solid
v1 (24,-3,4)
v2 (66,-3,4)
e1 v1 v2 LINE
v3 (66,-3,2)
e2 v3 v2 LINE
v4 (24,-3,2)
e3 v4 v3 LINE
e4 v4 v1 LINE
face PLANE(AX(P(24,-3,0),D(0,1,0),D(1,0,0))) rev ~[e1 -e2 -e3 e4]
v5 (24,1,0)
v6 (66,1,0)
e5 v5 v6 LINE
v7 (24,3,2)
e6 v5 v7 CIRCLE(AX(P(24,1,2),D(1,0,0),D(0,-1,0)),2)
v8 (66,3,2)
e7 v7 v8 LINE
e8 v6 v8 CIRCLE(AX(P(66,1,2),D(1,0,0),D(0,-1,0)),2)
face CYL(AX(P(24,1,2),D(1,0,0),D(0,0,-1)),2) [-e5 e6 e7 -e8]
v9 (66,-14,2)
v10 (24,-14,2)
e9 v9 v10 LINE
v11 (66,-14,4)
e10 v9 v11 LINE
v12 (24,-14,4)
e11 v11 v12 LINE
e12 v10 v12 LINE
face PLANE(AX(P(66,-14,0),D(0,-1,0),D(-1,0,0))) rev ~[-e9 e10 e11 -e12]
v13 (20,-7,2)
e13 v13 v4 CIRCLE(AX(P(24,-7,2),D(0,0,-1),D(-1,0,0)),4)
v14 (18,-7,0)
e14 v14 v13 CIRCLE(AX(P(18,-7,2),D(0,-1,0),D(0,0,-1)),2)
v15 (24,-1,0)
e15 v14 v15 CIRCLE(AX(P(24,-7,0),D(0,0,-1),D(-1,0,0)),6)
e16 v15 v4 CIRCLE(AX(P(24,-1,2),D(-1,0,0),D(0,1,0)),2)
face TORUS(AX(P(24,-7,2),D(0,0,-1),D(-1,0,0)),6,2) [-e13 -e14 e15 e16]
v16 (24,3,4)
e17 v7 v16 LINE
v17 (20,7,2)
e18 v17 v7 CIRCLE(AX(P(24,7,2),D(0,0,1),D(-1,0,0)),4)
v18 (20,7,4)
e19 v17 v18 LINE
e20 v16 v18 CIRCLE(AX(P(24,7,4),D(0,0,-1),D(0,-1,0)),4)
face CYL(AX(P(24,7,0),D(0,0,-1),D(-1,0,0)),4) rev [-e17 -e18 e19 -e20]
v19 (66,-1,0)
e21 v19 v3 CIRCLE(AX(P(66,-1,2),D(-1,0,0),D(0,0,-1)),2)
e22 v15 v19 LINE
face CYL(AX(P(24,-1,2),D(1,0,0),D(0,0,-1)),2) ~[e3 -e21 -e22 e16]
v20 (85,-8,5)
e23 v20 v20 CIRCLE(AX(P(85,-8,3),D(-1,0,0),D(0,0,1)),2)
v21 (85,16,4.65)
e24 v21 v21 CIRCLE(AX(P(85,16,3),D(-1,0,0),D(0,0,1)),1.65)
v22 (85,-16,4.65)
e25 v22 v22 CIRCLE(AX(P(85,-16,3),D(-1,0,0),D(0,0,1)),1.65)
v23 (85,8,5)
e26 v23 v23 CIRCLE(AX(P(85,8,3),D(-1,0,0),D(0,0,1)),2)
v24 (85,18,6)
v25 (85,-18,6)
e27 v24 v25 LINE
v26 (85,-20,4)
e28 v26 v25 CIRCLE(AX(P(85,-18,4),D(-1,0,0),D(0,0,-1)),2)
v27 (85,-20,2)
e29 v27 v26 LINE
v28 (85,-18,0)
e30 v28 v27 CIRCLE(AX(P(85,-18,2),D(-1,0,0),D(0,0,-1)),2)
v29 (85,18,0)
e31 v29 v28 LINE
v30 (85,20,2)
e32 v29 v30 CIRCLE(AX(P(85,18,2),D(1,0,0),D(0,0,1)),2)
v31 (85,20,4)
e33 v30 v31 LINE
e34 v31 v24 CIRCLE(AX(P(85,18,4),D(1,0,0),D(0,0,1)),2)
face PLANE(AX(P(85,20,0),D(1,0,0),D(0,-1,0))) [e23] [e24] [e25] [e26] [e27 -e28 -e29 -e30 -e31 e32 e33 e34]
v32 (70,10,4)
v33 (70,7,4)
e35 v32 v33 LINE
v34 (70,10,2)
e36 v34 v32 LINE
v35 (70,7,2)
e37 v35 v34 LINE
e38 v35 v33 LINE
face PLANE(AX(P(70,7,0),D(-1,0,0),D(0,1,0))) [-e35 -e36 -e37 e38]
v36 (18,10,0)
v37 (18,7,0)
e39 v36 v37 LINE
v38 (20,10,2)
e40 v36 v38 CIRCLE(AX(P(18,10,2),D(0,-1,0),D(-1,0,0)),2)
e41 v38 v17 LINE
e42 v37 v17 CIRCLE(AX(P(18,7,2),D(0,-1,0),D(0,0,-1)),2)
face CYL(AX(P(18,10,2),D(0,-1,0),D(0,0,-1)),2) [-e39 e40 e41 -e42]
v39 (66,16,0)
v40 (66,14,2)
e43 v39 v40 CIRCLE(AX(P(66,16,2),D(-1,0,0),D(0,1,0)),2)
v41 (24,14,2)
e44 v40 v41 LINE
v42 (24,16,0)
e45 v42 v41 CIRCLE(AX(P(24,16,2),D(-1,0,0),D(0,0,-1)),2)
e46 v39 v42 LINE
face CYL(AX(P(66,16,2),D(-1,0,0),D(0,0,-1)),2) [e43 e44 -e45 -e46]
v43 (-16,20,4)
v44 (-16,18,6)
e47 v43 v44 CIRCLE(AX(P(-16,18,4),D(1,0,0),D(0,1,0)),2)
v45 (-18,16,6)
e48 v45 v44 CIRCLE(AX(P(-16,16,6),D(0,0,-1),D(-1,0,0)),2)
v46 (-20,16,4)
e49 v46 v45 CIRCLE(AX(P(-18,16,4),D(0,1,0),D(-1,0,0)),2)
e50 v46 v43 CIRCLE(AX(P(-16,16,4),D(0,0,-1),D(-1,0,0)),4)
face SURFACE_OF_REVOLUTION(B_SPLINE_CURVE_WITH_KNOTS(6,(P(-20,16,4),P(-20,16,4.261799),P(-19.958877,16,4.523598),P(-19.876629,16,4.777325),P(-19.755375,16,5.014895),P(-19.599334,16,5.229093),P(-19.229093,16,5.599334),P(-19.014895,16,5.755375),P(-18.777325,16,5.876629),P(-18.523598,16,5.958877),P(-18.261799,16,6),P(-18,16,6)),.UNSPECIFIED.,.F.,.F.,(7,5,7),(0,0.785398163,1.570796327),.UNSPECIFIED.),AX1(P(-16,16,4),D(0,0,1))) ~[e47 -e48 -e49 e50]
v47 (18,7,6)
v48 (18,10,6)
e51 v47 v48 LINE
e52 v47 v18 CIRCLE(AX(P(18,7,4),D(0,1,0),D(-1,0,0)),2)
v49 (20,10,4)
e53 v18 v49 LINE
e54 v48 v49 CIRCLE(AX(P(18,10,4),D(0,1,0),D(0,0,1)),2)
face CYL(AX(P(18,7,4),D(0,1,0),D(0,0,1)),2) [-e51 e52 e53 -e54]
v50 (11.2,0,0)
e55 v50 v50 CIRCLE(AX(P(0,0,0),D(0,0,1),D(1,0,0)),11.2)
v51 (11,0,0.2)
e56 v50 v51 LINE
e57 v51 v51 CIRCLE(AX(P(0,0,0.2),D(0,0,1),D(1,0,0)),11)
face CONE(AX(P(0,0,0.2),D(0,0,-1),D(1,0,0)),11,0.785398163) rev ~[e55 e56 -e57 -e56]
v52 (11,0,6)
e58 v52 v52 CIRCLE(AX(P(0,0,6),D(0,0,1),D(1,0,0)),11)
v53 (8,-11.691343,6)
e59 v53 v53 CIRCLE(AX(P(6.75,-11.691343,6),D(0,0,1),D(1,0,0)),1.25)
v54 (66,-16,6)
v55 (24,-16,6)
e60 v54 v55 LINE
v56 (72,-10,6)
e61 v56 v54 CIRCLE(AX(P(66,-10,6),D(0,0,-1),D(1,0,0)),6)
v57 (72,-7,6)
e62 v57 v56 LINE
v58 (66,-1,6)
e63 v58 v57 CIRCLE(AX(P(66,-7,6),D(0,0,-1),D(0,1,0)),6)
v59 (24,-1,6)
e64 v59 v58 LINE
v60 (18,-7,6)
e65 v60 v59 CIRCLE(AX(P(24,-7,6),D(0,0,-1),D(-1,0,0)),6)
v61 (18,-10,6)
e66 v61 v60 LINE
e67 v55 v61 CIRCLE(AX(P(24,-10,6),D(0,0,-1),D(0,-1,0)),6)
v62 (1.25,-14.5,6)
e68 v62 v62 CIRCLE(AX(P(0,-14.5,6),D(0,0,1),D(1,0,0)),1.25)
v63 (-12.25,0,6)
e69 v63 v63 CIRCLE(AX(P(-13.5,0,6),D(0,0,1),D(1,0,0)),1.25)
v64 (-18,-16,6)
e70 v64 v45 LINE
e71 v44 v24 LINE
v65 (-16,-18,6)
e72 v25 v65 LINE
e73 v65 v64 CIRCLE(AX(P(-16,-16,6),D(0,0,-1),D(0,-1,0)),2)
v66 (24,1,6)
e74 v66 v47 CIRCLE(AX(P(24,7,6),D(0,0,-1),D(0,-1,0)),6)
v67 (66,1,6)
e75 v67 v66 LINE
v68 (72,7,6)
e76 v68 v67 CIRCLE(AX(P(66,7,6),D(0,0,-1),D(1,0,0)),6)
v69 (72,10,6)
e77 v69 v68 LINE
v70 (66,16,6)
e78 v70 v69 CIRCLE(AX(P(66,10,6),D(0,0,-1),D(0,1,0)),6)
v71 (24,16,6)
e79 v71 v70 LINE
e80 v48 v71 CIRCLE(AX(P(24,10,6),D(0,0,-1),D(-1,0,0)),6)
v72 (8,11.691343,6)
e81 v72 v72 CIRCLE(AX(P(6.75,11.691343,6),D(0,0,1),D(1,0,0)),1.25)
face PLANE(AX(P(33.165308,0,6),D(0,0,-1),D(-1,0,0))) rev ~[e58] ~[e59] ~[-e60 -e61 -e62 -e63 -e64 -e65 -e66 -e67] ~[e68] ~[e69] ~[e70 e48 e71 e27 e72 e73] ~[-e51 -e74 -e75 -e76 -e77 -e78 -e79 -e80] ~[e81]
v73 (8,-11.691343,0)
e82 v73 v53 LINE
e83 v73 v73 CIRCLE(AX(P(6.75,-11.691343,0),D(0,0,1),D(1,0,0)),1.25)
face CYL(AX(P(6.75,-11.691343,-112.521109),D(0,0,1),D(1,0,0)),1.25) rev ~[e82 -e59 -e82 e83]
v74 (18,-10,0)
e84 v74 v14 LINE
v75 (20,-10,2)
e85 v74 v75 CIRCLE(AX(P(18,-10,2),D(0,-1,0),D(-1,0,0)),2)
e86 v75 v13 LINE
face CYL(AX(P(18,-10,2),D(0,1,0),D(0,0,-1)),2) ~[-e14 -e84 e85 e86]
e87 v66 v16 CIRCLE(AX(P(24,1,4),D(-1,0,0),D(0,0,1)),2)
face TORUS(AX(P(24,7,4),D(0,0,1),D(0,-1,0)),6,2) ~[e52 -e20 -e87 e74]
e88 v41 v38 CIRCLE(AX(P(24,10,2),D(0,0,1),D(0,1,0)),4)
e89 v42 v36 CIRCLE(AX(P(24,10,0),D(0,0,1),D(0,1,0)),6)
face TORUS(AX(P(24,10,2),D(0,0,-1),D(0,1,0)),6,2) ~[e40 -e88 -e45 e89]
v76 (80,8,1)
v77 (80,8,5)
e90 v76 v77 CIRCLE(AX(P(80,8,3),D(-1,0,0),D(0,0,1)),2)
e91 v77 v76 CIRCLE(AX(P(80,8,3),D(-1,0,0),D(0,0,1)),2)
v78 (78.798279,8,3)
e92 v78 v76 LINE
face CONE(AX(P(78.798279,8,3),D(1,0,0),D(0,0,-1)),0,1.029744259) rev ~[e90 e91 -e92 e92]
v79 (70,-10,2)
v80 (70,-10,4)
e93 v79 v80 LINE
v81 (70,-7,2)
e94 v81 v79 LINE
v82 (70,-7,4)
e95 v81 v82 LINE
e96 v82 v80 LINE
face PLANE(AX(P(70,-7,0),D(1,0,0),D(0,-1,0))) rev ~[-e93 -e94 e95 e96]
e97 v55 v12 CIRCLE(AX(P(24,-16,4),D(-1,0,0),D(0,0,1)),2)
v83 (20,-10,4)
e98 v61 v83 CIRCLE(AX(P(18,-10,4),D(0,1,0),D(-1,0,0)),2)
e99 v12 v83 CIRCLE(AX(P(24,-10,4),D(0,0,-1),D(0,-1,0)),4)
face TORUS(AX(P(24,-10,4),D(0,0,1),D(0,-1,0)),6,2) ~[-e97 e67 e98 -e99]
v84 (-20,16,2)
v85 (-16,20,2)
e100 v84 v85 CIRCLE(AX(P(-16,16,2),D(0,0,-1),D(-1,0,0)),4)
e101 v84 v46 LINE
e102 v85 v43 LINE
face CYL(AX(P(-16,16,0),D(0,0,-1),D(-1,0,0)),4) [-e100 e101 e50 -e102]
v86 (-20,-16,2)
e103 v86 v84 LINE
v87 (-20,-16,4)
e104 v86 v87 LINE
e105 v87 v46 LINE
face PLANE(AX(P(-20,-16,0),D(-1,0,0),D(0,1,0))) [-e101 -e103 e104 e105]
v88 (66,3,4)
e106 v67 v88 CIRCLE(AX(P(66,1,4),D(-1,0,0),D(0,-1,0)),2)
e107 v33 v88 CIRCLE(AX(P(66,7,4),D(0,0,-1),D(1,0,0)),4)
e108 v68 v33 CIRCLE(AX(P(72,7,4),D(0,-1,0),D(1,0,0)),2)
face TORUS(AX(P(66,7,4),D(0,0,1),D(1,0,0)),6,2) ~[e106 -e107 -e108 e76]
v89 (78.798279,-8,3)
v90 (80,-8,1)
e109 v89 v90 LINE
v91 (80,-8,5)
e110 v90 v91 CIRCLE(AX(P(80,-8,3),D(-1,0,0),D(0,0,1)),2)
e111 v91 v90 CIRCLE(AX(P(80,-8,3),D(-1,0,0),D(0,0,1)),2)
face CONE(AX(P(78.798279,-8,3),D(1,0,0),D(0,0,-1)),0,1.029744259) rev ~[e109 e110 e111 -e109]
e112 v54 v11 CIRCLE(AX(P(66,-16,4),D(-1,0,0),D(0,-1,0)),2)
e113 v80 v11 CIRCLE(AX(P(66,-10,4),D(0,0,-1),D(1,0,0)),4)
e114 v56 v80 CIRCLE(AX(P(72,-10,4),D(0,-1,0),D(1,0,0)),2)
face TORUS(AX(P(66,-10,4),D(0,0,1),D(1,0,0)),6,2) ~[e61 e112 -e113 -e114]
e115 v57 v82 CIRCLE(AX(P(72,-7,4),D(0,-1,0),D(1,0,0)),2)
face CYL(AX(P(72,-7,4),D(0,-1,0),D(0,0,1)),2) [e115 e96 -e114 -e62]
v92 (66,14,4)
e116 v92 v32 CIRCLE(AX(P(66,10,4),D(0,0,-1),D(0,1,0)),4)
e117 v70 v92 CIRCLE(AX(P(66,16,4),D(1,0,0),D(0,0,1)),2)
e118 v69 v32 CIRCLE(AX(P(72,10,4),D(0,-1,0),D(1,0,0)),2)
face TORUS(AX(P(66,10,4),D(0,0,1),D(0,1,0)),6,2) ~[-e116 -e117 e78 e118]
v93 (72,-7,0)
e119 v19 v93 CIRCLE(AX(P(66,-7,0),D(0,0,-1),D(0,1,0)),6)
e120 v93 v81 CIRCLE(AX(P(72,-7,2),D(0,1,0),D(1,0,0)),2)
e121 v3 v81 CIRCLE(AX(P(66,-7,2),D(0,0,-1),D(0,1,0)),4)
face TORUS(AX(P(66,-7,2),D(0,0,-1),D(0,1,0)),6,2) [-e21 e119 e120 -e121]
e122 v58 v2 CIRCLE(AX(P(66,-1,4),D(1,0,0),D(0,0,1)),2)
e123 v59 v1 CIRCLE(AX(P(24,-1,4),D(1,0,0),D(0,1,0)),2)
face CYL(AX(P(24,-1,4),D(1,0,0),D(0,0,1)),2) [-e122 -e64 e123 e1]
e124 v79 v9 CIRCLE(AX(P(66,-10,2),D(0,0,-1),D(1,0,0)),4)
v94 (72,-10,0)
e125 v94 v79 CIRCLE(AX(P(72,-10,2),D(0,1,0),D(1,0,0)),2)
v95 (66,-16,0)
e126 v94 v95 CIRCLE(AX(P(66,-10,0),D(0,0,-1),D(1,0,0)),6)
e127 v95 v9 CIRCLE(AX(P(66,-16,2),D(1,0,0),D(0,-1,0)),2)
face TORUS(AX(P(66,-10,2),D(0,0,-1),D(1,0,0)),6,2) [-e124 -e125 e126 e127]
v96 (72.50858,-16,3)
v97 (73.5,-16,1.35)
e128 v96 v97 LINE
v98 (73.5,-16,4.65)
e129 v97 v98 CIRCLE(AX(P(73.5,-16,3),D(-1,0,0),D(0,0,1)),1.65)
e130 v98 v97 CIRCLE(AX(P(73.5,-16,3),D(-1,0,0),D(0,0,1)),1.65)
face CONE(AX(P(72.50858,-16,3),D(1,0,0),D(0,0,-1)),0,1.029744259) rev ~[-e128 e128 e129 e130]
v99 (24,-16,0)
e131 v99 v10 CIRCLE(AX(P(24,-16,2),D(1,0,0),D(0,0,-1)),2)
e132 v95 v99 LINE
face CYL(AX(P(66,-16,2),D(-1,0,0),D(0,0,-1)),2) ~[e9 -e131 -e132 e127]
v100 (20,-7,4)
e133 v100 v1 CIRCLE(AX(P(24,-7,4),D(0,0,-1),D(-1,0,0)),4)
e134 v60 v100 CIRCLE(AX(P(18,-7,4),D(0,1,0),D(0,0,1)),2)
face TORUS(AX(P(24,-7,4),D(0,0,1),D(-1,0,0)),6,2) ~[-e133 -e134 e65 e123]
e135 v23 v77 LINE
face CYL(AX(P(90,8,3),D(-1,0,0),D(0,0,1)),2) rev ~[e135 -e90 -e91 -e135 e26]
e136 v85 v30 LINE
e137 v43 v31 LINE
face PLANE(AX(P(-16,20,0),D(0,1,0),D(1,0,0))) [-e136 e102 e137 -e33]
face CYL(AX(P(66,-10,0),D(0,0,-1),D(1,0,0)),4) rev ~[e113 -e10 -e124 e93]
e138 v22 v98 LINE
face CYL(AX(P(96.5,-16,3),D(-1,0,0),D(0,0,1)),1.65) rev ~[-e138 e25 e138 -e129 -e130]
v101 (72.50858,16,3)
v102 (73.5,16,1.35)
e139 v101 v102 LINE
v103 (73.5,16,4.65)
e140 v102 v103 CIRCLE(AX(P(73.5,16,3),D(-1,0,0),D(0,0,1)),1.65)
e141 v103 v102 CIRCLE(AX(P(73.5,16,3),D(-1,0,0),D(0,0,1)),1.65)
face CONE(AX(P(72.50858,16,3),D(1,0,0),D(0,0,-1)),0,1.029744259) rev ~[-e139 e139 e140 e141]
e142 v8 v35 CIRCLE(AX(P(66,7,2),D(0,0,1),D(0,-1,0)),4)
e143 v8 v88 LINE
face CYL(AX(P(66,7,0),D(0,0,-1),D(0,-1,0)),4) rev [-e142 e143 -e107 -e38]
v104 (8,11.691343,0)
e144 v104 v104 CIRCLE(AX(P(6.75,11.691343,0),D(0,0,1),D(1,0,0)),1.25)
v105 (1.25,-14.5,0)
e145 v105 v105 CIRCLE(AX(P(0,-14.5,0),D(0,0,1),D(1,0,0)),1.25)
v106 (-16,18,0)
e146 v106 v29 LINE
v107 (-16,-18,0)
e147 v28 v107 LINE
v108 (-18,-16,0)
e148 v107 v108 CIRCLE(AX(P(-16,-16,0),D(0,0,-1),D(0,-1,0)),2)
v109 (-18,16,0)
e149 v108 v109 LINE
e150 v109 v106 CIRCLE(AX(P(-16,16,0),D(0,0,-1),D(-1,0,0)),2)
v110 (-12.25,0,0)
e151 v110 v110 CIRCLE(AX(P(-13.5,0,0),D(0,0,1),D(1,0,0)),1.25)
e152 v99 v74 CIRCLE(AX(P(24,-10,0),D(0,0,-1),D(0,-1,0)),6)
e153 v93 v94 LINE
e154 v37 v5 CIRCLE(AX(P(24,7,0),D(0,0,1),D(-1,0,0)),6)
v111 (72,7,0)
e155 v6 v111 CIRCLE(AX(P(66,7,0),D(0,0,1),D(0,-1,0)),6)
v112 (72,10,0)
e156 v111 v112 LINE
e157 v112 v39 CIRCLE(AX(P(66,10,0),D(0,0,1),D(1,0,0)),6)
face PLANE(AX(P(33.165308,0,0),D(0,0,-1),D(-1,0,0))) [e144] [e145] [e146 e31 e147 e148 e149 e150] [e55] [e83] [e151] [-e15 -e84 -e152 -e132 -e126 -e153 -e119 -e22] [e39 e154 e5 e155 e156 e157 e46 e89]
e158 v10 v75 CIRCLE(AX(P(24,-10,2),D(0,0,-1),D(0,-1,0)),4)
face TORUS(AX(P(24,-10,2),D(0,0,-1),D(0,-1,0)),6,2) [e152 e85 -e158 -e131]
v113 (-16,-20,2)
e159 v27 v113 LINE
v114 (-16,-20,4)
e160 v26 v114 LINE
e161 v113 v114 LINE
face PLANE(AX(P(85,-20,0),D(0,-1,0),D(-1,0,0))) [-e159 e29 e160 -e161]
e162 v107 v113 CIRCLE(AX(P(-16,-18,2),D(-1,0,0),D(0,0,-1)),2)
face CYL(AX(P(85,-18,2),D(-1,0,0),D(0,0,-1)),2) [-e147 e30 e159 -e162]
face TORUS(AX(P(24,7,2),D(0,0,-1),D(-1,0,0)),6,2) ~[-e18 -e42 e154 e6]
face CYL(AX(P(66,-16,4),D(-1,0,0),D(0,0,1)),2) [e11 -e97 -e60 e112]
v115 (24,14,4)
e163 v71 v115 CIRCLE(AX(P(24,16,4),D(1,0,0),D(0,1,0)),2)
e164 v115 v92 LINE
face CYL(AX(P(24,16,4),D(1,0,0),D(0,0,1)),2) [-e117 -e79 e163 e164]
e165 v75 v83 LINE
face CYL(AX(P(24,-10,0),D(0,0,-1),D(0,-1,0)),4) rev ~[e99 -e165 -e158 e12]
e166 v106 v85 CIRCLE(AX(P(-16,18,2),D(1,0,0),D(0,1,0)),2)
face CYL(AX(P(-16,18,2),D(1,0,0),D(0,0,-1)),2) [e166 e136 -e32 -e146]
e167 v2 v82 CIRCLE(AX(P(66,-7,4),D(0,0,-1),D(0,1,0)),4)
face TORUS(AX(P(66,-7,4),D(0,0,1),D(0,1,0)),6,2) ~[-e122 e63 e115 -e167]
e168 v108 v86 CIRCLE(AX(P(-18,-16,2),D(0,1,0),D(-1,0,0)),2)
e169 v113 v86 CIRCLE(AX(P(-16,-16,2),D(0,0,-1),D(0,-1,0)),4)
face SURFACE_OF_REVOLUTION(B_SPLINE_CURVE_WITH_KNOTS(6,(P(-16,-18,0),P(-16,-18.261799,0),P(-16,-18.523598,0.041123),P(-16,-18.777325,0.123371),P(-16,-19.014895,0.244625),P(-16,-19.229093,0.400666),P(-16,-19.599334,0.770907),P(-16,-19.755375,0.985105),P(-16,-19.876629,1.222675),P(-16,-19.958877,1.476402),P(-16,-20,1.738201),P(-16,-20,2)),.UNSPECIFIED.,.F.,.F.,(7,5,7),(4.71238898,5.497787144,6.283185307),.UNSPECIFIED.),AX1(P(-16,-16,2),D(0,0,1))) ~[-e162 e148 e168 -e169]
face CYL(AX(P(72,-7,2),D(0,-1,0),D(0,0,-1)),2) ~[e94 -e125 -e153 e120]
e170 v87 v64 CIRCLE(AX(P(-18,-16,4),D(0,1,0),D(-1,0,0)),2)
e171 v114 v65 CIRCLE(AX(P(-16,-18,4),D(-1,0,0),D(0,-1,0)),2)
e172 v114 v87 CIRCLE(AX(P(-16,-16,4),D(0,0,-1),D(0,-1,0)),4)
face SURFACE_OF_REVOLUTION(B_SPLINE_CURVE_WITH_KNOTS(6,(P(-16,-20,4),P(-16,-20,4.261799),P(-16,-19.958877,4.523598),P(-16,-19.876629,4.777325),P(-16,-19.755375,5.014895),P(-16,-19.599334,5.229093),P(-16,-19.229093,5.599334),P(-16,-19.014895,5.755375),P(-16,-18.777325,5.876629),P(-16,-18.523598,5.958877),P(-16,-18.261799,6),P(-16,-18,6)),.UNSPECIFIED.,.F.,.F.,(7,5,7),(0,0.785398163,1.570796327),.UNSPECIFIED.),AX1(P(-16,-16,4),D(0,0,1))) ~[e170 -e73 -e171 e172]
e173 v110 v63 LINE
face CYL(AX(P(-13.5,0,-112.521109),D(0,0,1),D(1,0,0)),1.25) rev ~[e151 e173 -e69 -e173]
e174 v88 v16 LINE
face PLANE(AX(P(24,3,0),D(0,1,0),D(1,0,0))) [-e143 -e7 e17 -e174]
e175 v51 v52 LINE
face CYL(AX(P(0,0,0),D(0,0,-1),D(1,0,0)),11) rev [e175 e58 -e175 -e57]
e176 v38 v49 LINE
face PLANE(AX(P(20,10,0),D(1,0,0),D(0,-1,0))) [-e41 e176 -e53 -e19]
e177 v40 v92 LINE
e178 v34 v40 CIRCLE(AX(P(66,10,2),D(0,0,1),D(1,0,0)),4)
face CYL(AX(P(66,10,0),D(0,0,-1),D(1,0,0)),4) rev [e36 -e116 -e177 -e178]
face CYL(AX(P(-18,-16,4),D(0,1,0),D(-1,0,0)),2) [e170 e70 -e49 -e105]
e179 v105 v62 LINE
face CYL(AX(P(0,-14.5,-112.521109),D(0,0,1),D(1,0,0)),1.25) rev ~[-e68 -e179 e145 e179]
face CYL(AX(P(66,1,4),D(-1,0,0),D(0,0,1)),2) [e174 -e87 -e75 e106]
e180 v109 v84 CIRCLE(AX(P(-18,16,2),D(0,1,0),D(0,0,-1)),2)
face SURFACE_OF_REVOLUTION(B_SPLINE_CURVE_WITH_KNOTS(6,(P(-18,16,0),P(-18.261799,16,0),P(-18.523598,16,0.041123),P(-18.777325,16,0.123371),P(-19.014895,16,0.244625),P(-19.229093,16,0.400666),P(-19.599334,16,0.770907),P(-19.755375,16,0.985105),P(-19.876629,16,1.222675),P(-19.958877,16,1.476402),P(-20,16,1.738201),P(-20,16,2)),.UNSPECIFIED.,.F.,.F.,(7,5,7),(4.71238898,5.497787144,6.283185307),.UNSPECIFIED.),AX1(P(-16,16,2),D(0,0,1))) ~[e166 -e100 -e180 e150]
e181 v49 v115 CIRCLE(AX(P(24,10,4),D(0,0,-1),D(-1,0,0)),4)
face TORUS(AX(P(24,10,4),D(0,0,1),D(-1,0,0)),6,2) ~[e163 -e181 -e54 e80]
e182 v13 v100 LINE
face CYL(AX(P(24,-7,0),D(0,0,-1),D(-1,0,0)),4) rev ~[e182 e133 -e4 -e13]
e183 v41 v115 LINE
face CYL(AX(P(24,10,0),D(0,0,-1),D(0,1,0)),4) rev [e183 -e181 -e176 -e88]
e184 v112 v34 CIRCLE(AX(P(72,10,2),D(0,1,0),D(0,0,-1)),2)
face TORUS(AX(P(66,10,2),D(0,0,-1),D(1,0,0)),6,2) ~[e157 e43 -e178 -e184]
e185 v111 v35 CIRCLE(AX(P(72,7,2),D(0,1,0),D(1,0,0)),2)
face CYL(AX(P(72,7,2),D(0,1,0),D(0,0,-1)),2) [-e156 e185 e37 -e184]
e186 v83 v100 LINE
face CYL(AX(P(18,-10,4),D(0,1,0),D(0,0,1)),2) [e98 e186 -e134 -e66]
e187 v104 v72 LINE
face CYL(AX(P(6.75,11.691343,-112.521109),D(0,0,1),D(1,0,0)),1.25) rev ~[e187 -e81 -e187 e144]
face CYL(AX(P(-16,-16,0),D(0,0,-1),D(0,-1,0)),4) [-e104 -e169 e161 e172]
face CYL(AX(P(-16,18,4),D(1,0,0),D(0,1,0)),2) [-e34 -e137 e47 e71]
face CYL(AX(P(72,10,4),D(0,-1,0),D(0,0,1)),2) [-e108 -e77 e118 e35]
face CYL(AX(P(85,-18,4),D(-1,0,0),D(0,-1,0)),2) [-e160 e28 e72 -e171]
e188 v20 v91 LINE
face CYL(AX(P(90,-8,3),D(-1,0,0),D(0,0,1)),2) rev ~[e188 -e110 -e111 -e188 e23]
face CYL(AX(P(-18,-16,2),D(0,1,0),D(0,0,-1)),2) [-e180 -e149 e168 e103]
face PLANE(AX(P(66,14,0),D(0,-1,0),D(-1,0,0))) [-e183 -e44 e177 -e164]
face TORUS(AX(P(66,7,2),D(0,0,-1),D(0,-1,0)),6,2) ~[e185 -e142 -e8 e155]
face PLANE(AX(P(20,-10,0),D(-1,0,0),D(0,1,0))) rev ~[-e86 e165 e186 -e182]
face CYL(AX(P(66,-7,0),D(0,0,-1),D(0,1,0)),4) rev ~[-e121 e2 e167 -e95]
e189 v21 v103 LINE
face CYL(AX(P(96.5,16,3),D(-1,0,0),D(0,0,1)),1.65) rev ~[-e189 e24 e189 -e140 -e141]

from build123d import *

# Parameters (mm, degrees)
ESQUISSE1_R                       = 11
BOSS_EXTRU_1_DEPTH                = 6
ENL_V_MAT_EXTRU_5_REACH           = 89.527
CONG_1_R                          = 2
TROU_TARAUD_M31_D                 = 2.5
TROU_TARAUD_M33_D                 = 2.5
CHANFREIN1_SIZE                   = 0.2
DIAM_TRE_DU_PER_AGE_4_0_4_1_D     = 4
DIAM_TRE_DU_PER_AGE_4_0_4_1_DEPTH = 5
DIAM_TRE_DU_PER_AGE_4_0_4_1_TIP   = 1.201721238
TROU_TARAUD_M41_D                 = 3.3
TROU_TARAUD_M41_DEPTH             = 11.5
TROU_TARAUD_M41_TIP               = 0.991420021


with BuildPart() as part:
    # Esquisse1 → Boss.-Extru.1 (new body)
    with BuildSketch(Plane.XY):
        with BuildLine():
            Line((-16, 20), (85, 20))
            Line((85, 20), (85, -20))
            Line((85, -20), (-16, -20))
            ThreePointArc((-16, -20), (-18.828427125, -18.828427125), (-20, -16))
            Line((-20, -16), (-20, 16))
            ThreePointArc((-20, 16), (-18.828427125, 18.828427125), (-16, 20))
        make_face()
        Circle(ESQUISSE1_R, mode=Mode.SUBTRACT)
    extrude(amount=BOSS_EXTRU_1_DEPTH)

    # Esquisse16 → Enlèv. mat.-Extru.5 (cut, up to next)
    with BuildSketch(Plane.XY, mode=Mode.PRIVATE) as enl_v_mat_extru_5_sk1:
        with BuildLine():
            Line((20, 10), (20, 7))
            ThreePointArc((20, 7), (21.171572875, 4.171572875), (24, 3))
            Line((24, 3), (66, 3))
            ThreePointArc((66, 3), (68.828427125, 4.171572875), (70, 7))
            Line((70, 7), (70, 10))
            ThreePointArc((70, 10), (68.828427125, 12.828427125), (66, 14))
            Line((66, 14), (24, 14))
            ThreePointArc((24, 14), (21.171572875, 12.828427125), (20, 10))
        make_face()
    enl_v_mat_extru_5_tool1 = extrude(enl_v_mat_extru_5_sk1.sketch, amount=ENL_V_MAT_EXTRU_5_REACH, mode=Mode.PRIVATE) & part.part
    # Esquisse16 → Enlèv. mat.-Extru.5 (cut, up to next)
    with BuildSketch(Plane.XY, mode=Mode.PRIVATE) as enl_v_mat_extru_5_sk2:
        with BuildLine():
            Line((70, -7), (70, -10))
            ThreePointArc((70, -10), (68.828427125, -12.828427125), (66, -14))
            Line((66, -14), (24, -14))
            ThreePointArc((24, -14), (21.171572875, -12.828427125), (20, -10))
            Line((20, -10), (20, -7))
            ThreePointArc((20, -7), (21.171572875, -4.171572875), (24, -3))
            Line((24, -3), (66, -3))
            ThreePointArc((66, -3), (68.828427125, -4.171572875), (70, -7))
        make_face()
    enl_v_mat_extru_5_tool2 = extrude(enl_v_mat_extru_5_sk2.sketch, amount=ENL_V_MAT_EXTRU_5_REACH, mode=Mode.PRIVATE) & part.part
    add(enl_v_mat_extru_5_tool1.solids().sort_by_distance((45, 8.5, 0))[0], mode=Mode.SUBTRACT)
    add(enl_v_mat_extru_5_tool2.solids().sort_by_distance((45, -8.5, 0))[0], mode=Mode.SUBTRACT)

    # Congé1
    cong_1_edges = [part.edges().sort_by_distance(p)[0] for p in [
        (34.5, 20, 6),
        (-18.828427125, 18.828427125, 6),
        (-20, 0, 6),
        (68.828427125, 4.171572875, 6),
        (68.828427125, 4.171572875, 0),
        (70, 8.5, 6),
        (70, 8.5, 0),
        (68.828427125, 12.828427125, 6),
        (68.828427125, 12.828427125, 0),
        (45, 14, 6),
        (45, 14, 0),
        (21.171572875, 12.828427125, 6),
        (21.171572875, 12.828427125, 0),
        (20, 8.5, 6),
        (20, 8.5, 0),
        (21.171572875, 4.171572875, 6),
        (21.171572875, 4.171572875, 0),
        (45, 3, 6),
        (45, 3, 0),
        (-18.828427125, -18.828427125, 6),
        (68.828427125, -12.828427125, 6),
        (68.828427125, -12.828427125, 0),
        (70, -8.5, 6),
        (70, -8.5, 0),
        (68.828427125, -4.171572875, 6),
        (68.828427125, -4.171572875, 0),
        (45, -3, 6),
        (45, -3, 0),
        (21.171572875, -4.171572875, 6),
        (21.171572875, -4.171572875, 0),
        (20, -8.5, 6),
        (20, -8.5, 0),
        (21.171572875, -12.828427125, 6),
        (21.171572875, -12.828427125, 0),
        (45, -14, 6),
        (45, -14, 0),
        (-20, 0, 0),
        (-18.828427125, 18.828427125, 0),
        (34.5, 20, 0),
        (34.5, -20, 6),
        (34.5, -20, 0),
        (-18.828427125, -18.828427125, 0),
    ]]
    fillet(cong_1_edges, radius=CONG_1_R)

    # Trou taraudé M31 (through all)
    with Locations(Plane(origin=(0, 0, 0), x_dir=(-1, 0, 0), z_dir=(0, 0, -1))):
        with Locations((0, -14.5)):
            Hole(TROU_TARAUD_M31_D / 2)

    # Trou taraudé M33 (through all)
    with Locations(Plane(origin=(0, 0, 0), x_dir=(-1, 0, 0), z_dir=(0, 0, -1))):
        with Locations((-6.75, 11.691342951), (-6.75, -11.691342951), (13.5, 0)):
            Hole(TROU_TARAUD_M33_D / 2)

    # Chanfrein1
    chanfrein1_edges = [part.edges().sort_by_distance(p)[0] for p in [
        (-11, 0, 0),
    ]]
    chamfer(chanfrein1_edges, length=CHANFREIN1_SIZE)

    # Diamètre du perçage Ø4.0 (4)1
    with Locations(Plane(origin=(85, 0, 0), x_dir=(0, 0, -1), z_dir=(1, 0, 0))):
        with Locations((-3, 8), (-3, -8)):
            Hole(DIAM_TRE_DU_PER_AGE_4_0_4_1_D / 2, depth=DIAM_TRE_DU_PER_AGE_4_0_4_1_DEPTH)
            with Locations((0, 0, -(DIAM_TRE_DU_PER_AGE_4_0_4_1_DEPTH + DIAM_TRE_DU_PER_AGE_4_0_4_1_TIP / 2))):  # 118° drill point
                Cone(0, DIAM_TRE_DU_PER_AGE_4_0_4_1_D / 2, DIAM_TRE_DU_PER_AGE_4_0_4_1_TIP, mode=Mode.SUBTRACT)

    # Trou taraudé M41
    with Locations(Plane(origin=(85, 0, 0), x_dir=(0, 0, -1), z_dir=(1, 0, 0))):
        with Locations((-3, 16), (-3, -16)):
            Hole(TROU_TARAUD_M41_D / 2, depth=TROU_TARAUD_M41_DEPTH)
            with Locations((0, 0, -(TROU_TARAUD_M41_DEPTH + TROU_TARAUD_M41_TIP / 2))):  # 118° drill point
                Cone(0, TROU_TARAUD_M41_D / 2, TROU_TARAUD_M41_TIP, mode=Mode.SUBTRACT)


solid = part.part
